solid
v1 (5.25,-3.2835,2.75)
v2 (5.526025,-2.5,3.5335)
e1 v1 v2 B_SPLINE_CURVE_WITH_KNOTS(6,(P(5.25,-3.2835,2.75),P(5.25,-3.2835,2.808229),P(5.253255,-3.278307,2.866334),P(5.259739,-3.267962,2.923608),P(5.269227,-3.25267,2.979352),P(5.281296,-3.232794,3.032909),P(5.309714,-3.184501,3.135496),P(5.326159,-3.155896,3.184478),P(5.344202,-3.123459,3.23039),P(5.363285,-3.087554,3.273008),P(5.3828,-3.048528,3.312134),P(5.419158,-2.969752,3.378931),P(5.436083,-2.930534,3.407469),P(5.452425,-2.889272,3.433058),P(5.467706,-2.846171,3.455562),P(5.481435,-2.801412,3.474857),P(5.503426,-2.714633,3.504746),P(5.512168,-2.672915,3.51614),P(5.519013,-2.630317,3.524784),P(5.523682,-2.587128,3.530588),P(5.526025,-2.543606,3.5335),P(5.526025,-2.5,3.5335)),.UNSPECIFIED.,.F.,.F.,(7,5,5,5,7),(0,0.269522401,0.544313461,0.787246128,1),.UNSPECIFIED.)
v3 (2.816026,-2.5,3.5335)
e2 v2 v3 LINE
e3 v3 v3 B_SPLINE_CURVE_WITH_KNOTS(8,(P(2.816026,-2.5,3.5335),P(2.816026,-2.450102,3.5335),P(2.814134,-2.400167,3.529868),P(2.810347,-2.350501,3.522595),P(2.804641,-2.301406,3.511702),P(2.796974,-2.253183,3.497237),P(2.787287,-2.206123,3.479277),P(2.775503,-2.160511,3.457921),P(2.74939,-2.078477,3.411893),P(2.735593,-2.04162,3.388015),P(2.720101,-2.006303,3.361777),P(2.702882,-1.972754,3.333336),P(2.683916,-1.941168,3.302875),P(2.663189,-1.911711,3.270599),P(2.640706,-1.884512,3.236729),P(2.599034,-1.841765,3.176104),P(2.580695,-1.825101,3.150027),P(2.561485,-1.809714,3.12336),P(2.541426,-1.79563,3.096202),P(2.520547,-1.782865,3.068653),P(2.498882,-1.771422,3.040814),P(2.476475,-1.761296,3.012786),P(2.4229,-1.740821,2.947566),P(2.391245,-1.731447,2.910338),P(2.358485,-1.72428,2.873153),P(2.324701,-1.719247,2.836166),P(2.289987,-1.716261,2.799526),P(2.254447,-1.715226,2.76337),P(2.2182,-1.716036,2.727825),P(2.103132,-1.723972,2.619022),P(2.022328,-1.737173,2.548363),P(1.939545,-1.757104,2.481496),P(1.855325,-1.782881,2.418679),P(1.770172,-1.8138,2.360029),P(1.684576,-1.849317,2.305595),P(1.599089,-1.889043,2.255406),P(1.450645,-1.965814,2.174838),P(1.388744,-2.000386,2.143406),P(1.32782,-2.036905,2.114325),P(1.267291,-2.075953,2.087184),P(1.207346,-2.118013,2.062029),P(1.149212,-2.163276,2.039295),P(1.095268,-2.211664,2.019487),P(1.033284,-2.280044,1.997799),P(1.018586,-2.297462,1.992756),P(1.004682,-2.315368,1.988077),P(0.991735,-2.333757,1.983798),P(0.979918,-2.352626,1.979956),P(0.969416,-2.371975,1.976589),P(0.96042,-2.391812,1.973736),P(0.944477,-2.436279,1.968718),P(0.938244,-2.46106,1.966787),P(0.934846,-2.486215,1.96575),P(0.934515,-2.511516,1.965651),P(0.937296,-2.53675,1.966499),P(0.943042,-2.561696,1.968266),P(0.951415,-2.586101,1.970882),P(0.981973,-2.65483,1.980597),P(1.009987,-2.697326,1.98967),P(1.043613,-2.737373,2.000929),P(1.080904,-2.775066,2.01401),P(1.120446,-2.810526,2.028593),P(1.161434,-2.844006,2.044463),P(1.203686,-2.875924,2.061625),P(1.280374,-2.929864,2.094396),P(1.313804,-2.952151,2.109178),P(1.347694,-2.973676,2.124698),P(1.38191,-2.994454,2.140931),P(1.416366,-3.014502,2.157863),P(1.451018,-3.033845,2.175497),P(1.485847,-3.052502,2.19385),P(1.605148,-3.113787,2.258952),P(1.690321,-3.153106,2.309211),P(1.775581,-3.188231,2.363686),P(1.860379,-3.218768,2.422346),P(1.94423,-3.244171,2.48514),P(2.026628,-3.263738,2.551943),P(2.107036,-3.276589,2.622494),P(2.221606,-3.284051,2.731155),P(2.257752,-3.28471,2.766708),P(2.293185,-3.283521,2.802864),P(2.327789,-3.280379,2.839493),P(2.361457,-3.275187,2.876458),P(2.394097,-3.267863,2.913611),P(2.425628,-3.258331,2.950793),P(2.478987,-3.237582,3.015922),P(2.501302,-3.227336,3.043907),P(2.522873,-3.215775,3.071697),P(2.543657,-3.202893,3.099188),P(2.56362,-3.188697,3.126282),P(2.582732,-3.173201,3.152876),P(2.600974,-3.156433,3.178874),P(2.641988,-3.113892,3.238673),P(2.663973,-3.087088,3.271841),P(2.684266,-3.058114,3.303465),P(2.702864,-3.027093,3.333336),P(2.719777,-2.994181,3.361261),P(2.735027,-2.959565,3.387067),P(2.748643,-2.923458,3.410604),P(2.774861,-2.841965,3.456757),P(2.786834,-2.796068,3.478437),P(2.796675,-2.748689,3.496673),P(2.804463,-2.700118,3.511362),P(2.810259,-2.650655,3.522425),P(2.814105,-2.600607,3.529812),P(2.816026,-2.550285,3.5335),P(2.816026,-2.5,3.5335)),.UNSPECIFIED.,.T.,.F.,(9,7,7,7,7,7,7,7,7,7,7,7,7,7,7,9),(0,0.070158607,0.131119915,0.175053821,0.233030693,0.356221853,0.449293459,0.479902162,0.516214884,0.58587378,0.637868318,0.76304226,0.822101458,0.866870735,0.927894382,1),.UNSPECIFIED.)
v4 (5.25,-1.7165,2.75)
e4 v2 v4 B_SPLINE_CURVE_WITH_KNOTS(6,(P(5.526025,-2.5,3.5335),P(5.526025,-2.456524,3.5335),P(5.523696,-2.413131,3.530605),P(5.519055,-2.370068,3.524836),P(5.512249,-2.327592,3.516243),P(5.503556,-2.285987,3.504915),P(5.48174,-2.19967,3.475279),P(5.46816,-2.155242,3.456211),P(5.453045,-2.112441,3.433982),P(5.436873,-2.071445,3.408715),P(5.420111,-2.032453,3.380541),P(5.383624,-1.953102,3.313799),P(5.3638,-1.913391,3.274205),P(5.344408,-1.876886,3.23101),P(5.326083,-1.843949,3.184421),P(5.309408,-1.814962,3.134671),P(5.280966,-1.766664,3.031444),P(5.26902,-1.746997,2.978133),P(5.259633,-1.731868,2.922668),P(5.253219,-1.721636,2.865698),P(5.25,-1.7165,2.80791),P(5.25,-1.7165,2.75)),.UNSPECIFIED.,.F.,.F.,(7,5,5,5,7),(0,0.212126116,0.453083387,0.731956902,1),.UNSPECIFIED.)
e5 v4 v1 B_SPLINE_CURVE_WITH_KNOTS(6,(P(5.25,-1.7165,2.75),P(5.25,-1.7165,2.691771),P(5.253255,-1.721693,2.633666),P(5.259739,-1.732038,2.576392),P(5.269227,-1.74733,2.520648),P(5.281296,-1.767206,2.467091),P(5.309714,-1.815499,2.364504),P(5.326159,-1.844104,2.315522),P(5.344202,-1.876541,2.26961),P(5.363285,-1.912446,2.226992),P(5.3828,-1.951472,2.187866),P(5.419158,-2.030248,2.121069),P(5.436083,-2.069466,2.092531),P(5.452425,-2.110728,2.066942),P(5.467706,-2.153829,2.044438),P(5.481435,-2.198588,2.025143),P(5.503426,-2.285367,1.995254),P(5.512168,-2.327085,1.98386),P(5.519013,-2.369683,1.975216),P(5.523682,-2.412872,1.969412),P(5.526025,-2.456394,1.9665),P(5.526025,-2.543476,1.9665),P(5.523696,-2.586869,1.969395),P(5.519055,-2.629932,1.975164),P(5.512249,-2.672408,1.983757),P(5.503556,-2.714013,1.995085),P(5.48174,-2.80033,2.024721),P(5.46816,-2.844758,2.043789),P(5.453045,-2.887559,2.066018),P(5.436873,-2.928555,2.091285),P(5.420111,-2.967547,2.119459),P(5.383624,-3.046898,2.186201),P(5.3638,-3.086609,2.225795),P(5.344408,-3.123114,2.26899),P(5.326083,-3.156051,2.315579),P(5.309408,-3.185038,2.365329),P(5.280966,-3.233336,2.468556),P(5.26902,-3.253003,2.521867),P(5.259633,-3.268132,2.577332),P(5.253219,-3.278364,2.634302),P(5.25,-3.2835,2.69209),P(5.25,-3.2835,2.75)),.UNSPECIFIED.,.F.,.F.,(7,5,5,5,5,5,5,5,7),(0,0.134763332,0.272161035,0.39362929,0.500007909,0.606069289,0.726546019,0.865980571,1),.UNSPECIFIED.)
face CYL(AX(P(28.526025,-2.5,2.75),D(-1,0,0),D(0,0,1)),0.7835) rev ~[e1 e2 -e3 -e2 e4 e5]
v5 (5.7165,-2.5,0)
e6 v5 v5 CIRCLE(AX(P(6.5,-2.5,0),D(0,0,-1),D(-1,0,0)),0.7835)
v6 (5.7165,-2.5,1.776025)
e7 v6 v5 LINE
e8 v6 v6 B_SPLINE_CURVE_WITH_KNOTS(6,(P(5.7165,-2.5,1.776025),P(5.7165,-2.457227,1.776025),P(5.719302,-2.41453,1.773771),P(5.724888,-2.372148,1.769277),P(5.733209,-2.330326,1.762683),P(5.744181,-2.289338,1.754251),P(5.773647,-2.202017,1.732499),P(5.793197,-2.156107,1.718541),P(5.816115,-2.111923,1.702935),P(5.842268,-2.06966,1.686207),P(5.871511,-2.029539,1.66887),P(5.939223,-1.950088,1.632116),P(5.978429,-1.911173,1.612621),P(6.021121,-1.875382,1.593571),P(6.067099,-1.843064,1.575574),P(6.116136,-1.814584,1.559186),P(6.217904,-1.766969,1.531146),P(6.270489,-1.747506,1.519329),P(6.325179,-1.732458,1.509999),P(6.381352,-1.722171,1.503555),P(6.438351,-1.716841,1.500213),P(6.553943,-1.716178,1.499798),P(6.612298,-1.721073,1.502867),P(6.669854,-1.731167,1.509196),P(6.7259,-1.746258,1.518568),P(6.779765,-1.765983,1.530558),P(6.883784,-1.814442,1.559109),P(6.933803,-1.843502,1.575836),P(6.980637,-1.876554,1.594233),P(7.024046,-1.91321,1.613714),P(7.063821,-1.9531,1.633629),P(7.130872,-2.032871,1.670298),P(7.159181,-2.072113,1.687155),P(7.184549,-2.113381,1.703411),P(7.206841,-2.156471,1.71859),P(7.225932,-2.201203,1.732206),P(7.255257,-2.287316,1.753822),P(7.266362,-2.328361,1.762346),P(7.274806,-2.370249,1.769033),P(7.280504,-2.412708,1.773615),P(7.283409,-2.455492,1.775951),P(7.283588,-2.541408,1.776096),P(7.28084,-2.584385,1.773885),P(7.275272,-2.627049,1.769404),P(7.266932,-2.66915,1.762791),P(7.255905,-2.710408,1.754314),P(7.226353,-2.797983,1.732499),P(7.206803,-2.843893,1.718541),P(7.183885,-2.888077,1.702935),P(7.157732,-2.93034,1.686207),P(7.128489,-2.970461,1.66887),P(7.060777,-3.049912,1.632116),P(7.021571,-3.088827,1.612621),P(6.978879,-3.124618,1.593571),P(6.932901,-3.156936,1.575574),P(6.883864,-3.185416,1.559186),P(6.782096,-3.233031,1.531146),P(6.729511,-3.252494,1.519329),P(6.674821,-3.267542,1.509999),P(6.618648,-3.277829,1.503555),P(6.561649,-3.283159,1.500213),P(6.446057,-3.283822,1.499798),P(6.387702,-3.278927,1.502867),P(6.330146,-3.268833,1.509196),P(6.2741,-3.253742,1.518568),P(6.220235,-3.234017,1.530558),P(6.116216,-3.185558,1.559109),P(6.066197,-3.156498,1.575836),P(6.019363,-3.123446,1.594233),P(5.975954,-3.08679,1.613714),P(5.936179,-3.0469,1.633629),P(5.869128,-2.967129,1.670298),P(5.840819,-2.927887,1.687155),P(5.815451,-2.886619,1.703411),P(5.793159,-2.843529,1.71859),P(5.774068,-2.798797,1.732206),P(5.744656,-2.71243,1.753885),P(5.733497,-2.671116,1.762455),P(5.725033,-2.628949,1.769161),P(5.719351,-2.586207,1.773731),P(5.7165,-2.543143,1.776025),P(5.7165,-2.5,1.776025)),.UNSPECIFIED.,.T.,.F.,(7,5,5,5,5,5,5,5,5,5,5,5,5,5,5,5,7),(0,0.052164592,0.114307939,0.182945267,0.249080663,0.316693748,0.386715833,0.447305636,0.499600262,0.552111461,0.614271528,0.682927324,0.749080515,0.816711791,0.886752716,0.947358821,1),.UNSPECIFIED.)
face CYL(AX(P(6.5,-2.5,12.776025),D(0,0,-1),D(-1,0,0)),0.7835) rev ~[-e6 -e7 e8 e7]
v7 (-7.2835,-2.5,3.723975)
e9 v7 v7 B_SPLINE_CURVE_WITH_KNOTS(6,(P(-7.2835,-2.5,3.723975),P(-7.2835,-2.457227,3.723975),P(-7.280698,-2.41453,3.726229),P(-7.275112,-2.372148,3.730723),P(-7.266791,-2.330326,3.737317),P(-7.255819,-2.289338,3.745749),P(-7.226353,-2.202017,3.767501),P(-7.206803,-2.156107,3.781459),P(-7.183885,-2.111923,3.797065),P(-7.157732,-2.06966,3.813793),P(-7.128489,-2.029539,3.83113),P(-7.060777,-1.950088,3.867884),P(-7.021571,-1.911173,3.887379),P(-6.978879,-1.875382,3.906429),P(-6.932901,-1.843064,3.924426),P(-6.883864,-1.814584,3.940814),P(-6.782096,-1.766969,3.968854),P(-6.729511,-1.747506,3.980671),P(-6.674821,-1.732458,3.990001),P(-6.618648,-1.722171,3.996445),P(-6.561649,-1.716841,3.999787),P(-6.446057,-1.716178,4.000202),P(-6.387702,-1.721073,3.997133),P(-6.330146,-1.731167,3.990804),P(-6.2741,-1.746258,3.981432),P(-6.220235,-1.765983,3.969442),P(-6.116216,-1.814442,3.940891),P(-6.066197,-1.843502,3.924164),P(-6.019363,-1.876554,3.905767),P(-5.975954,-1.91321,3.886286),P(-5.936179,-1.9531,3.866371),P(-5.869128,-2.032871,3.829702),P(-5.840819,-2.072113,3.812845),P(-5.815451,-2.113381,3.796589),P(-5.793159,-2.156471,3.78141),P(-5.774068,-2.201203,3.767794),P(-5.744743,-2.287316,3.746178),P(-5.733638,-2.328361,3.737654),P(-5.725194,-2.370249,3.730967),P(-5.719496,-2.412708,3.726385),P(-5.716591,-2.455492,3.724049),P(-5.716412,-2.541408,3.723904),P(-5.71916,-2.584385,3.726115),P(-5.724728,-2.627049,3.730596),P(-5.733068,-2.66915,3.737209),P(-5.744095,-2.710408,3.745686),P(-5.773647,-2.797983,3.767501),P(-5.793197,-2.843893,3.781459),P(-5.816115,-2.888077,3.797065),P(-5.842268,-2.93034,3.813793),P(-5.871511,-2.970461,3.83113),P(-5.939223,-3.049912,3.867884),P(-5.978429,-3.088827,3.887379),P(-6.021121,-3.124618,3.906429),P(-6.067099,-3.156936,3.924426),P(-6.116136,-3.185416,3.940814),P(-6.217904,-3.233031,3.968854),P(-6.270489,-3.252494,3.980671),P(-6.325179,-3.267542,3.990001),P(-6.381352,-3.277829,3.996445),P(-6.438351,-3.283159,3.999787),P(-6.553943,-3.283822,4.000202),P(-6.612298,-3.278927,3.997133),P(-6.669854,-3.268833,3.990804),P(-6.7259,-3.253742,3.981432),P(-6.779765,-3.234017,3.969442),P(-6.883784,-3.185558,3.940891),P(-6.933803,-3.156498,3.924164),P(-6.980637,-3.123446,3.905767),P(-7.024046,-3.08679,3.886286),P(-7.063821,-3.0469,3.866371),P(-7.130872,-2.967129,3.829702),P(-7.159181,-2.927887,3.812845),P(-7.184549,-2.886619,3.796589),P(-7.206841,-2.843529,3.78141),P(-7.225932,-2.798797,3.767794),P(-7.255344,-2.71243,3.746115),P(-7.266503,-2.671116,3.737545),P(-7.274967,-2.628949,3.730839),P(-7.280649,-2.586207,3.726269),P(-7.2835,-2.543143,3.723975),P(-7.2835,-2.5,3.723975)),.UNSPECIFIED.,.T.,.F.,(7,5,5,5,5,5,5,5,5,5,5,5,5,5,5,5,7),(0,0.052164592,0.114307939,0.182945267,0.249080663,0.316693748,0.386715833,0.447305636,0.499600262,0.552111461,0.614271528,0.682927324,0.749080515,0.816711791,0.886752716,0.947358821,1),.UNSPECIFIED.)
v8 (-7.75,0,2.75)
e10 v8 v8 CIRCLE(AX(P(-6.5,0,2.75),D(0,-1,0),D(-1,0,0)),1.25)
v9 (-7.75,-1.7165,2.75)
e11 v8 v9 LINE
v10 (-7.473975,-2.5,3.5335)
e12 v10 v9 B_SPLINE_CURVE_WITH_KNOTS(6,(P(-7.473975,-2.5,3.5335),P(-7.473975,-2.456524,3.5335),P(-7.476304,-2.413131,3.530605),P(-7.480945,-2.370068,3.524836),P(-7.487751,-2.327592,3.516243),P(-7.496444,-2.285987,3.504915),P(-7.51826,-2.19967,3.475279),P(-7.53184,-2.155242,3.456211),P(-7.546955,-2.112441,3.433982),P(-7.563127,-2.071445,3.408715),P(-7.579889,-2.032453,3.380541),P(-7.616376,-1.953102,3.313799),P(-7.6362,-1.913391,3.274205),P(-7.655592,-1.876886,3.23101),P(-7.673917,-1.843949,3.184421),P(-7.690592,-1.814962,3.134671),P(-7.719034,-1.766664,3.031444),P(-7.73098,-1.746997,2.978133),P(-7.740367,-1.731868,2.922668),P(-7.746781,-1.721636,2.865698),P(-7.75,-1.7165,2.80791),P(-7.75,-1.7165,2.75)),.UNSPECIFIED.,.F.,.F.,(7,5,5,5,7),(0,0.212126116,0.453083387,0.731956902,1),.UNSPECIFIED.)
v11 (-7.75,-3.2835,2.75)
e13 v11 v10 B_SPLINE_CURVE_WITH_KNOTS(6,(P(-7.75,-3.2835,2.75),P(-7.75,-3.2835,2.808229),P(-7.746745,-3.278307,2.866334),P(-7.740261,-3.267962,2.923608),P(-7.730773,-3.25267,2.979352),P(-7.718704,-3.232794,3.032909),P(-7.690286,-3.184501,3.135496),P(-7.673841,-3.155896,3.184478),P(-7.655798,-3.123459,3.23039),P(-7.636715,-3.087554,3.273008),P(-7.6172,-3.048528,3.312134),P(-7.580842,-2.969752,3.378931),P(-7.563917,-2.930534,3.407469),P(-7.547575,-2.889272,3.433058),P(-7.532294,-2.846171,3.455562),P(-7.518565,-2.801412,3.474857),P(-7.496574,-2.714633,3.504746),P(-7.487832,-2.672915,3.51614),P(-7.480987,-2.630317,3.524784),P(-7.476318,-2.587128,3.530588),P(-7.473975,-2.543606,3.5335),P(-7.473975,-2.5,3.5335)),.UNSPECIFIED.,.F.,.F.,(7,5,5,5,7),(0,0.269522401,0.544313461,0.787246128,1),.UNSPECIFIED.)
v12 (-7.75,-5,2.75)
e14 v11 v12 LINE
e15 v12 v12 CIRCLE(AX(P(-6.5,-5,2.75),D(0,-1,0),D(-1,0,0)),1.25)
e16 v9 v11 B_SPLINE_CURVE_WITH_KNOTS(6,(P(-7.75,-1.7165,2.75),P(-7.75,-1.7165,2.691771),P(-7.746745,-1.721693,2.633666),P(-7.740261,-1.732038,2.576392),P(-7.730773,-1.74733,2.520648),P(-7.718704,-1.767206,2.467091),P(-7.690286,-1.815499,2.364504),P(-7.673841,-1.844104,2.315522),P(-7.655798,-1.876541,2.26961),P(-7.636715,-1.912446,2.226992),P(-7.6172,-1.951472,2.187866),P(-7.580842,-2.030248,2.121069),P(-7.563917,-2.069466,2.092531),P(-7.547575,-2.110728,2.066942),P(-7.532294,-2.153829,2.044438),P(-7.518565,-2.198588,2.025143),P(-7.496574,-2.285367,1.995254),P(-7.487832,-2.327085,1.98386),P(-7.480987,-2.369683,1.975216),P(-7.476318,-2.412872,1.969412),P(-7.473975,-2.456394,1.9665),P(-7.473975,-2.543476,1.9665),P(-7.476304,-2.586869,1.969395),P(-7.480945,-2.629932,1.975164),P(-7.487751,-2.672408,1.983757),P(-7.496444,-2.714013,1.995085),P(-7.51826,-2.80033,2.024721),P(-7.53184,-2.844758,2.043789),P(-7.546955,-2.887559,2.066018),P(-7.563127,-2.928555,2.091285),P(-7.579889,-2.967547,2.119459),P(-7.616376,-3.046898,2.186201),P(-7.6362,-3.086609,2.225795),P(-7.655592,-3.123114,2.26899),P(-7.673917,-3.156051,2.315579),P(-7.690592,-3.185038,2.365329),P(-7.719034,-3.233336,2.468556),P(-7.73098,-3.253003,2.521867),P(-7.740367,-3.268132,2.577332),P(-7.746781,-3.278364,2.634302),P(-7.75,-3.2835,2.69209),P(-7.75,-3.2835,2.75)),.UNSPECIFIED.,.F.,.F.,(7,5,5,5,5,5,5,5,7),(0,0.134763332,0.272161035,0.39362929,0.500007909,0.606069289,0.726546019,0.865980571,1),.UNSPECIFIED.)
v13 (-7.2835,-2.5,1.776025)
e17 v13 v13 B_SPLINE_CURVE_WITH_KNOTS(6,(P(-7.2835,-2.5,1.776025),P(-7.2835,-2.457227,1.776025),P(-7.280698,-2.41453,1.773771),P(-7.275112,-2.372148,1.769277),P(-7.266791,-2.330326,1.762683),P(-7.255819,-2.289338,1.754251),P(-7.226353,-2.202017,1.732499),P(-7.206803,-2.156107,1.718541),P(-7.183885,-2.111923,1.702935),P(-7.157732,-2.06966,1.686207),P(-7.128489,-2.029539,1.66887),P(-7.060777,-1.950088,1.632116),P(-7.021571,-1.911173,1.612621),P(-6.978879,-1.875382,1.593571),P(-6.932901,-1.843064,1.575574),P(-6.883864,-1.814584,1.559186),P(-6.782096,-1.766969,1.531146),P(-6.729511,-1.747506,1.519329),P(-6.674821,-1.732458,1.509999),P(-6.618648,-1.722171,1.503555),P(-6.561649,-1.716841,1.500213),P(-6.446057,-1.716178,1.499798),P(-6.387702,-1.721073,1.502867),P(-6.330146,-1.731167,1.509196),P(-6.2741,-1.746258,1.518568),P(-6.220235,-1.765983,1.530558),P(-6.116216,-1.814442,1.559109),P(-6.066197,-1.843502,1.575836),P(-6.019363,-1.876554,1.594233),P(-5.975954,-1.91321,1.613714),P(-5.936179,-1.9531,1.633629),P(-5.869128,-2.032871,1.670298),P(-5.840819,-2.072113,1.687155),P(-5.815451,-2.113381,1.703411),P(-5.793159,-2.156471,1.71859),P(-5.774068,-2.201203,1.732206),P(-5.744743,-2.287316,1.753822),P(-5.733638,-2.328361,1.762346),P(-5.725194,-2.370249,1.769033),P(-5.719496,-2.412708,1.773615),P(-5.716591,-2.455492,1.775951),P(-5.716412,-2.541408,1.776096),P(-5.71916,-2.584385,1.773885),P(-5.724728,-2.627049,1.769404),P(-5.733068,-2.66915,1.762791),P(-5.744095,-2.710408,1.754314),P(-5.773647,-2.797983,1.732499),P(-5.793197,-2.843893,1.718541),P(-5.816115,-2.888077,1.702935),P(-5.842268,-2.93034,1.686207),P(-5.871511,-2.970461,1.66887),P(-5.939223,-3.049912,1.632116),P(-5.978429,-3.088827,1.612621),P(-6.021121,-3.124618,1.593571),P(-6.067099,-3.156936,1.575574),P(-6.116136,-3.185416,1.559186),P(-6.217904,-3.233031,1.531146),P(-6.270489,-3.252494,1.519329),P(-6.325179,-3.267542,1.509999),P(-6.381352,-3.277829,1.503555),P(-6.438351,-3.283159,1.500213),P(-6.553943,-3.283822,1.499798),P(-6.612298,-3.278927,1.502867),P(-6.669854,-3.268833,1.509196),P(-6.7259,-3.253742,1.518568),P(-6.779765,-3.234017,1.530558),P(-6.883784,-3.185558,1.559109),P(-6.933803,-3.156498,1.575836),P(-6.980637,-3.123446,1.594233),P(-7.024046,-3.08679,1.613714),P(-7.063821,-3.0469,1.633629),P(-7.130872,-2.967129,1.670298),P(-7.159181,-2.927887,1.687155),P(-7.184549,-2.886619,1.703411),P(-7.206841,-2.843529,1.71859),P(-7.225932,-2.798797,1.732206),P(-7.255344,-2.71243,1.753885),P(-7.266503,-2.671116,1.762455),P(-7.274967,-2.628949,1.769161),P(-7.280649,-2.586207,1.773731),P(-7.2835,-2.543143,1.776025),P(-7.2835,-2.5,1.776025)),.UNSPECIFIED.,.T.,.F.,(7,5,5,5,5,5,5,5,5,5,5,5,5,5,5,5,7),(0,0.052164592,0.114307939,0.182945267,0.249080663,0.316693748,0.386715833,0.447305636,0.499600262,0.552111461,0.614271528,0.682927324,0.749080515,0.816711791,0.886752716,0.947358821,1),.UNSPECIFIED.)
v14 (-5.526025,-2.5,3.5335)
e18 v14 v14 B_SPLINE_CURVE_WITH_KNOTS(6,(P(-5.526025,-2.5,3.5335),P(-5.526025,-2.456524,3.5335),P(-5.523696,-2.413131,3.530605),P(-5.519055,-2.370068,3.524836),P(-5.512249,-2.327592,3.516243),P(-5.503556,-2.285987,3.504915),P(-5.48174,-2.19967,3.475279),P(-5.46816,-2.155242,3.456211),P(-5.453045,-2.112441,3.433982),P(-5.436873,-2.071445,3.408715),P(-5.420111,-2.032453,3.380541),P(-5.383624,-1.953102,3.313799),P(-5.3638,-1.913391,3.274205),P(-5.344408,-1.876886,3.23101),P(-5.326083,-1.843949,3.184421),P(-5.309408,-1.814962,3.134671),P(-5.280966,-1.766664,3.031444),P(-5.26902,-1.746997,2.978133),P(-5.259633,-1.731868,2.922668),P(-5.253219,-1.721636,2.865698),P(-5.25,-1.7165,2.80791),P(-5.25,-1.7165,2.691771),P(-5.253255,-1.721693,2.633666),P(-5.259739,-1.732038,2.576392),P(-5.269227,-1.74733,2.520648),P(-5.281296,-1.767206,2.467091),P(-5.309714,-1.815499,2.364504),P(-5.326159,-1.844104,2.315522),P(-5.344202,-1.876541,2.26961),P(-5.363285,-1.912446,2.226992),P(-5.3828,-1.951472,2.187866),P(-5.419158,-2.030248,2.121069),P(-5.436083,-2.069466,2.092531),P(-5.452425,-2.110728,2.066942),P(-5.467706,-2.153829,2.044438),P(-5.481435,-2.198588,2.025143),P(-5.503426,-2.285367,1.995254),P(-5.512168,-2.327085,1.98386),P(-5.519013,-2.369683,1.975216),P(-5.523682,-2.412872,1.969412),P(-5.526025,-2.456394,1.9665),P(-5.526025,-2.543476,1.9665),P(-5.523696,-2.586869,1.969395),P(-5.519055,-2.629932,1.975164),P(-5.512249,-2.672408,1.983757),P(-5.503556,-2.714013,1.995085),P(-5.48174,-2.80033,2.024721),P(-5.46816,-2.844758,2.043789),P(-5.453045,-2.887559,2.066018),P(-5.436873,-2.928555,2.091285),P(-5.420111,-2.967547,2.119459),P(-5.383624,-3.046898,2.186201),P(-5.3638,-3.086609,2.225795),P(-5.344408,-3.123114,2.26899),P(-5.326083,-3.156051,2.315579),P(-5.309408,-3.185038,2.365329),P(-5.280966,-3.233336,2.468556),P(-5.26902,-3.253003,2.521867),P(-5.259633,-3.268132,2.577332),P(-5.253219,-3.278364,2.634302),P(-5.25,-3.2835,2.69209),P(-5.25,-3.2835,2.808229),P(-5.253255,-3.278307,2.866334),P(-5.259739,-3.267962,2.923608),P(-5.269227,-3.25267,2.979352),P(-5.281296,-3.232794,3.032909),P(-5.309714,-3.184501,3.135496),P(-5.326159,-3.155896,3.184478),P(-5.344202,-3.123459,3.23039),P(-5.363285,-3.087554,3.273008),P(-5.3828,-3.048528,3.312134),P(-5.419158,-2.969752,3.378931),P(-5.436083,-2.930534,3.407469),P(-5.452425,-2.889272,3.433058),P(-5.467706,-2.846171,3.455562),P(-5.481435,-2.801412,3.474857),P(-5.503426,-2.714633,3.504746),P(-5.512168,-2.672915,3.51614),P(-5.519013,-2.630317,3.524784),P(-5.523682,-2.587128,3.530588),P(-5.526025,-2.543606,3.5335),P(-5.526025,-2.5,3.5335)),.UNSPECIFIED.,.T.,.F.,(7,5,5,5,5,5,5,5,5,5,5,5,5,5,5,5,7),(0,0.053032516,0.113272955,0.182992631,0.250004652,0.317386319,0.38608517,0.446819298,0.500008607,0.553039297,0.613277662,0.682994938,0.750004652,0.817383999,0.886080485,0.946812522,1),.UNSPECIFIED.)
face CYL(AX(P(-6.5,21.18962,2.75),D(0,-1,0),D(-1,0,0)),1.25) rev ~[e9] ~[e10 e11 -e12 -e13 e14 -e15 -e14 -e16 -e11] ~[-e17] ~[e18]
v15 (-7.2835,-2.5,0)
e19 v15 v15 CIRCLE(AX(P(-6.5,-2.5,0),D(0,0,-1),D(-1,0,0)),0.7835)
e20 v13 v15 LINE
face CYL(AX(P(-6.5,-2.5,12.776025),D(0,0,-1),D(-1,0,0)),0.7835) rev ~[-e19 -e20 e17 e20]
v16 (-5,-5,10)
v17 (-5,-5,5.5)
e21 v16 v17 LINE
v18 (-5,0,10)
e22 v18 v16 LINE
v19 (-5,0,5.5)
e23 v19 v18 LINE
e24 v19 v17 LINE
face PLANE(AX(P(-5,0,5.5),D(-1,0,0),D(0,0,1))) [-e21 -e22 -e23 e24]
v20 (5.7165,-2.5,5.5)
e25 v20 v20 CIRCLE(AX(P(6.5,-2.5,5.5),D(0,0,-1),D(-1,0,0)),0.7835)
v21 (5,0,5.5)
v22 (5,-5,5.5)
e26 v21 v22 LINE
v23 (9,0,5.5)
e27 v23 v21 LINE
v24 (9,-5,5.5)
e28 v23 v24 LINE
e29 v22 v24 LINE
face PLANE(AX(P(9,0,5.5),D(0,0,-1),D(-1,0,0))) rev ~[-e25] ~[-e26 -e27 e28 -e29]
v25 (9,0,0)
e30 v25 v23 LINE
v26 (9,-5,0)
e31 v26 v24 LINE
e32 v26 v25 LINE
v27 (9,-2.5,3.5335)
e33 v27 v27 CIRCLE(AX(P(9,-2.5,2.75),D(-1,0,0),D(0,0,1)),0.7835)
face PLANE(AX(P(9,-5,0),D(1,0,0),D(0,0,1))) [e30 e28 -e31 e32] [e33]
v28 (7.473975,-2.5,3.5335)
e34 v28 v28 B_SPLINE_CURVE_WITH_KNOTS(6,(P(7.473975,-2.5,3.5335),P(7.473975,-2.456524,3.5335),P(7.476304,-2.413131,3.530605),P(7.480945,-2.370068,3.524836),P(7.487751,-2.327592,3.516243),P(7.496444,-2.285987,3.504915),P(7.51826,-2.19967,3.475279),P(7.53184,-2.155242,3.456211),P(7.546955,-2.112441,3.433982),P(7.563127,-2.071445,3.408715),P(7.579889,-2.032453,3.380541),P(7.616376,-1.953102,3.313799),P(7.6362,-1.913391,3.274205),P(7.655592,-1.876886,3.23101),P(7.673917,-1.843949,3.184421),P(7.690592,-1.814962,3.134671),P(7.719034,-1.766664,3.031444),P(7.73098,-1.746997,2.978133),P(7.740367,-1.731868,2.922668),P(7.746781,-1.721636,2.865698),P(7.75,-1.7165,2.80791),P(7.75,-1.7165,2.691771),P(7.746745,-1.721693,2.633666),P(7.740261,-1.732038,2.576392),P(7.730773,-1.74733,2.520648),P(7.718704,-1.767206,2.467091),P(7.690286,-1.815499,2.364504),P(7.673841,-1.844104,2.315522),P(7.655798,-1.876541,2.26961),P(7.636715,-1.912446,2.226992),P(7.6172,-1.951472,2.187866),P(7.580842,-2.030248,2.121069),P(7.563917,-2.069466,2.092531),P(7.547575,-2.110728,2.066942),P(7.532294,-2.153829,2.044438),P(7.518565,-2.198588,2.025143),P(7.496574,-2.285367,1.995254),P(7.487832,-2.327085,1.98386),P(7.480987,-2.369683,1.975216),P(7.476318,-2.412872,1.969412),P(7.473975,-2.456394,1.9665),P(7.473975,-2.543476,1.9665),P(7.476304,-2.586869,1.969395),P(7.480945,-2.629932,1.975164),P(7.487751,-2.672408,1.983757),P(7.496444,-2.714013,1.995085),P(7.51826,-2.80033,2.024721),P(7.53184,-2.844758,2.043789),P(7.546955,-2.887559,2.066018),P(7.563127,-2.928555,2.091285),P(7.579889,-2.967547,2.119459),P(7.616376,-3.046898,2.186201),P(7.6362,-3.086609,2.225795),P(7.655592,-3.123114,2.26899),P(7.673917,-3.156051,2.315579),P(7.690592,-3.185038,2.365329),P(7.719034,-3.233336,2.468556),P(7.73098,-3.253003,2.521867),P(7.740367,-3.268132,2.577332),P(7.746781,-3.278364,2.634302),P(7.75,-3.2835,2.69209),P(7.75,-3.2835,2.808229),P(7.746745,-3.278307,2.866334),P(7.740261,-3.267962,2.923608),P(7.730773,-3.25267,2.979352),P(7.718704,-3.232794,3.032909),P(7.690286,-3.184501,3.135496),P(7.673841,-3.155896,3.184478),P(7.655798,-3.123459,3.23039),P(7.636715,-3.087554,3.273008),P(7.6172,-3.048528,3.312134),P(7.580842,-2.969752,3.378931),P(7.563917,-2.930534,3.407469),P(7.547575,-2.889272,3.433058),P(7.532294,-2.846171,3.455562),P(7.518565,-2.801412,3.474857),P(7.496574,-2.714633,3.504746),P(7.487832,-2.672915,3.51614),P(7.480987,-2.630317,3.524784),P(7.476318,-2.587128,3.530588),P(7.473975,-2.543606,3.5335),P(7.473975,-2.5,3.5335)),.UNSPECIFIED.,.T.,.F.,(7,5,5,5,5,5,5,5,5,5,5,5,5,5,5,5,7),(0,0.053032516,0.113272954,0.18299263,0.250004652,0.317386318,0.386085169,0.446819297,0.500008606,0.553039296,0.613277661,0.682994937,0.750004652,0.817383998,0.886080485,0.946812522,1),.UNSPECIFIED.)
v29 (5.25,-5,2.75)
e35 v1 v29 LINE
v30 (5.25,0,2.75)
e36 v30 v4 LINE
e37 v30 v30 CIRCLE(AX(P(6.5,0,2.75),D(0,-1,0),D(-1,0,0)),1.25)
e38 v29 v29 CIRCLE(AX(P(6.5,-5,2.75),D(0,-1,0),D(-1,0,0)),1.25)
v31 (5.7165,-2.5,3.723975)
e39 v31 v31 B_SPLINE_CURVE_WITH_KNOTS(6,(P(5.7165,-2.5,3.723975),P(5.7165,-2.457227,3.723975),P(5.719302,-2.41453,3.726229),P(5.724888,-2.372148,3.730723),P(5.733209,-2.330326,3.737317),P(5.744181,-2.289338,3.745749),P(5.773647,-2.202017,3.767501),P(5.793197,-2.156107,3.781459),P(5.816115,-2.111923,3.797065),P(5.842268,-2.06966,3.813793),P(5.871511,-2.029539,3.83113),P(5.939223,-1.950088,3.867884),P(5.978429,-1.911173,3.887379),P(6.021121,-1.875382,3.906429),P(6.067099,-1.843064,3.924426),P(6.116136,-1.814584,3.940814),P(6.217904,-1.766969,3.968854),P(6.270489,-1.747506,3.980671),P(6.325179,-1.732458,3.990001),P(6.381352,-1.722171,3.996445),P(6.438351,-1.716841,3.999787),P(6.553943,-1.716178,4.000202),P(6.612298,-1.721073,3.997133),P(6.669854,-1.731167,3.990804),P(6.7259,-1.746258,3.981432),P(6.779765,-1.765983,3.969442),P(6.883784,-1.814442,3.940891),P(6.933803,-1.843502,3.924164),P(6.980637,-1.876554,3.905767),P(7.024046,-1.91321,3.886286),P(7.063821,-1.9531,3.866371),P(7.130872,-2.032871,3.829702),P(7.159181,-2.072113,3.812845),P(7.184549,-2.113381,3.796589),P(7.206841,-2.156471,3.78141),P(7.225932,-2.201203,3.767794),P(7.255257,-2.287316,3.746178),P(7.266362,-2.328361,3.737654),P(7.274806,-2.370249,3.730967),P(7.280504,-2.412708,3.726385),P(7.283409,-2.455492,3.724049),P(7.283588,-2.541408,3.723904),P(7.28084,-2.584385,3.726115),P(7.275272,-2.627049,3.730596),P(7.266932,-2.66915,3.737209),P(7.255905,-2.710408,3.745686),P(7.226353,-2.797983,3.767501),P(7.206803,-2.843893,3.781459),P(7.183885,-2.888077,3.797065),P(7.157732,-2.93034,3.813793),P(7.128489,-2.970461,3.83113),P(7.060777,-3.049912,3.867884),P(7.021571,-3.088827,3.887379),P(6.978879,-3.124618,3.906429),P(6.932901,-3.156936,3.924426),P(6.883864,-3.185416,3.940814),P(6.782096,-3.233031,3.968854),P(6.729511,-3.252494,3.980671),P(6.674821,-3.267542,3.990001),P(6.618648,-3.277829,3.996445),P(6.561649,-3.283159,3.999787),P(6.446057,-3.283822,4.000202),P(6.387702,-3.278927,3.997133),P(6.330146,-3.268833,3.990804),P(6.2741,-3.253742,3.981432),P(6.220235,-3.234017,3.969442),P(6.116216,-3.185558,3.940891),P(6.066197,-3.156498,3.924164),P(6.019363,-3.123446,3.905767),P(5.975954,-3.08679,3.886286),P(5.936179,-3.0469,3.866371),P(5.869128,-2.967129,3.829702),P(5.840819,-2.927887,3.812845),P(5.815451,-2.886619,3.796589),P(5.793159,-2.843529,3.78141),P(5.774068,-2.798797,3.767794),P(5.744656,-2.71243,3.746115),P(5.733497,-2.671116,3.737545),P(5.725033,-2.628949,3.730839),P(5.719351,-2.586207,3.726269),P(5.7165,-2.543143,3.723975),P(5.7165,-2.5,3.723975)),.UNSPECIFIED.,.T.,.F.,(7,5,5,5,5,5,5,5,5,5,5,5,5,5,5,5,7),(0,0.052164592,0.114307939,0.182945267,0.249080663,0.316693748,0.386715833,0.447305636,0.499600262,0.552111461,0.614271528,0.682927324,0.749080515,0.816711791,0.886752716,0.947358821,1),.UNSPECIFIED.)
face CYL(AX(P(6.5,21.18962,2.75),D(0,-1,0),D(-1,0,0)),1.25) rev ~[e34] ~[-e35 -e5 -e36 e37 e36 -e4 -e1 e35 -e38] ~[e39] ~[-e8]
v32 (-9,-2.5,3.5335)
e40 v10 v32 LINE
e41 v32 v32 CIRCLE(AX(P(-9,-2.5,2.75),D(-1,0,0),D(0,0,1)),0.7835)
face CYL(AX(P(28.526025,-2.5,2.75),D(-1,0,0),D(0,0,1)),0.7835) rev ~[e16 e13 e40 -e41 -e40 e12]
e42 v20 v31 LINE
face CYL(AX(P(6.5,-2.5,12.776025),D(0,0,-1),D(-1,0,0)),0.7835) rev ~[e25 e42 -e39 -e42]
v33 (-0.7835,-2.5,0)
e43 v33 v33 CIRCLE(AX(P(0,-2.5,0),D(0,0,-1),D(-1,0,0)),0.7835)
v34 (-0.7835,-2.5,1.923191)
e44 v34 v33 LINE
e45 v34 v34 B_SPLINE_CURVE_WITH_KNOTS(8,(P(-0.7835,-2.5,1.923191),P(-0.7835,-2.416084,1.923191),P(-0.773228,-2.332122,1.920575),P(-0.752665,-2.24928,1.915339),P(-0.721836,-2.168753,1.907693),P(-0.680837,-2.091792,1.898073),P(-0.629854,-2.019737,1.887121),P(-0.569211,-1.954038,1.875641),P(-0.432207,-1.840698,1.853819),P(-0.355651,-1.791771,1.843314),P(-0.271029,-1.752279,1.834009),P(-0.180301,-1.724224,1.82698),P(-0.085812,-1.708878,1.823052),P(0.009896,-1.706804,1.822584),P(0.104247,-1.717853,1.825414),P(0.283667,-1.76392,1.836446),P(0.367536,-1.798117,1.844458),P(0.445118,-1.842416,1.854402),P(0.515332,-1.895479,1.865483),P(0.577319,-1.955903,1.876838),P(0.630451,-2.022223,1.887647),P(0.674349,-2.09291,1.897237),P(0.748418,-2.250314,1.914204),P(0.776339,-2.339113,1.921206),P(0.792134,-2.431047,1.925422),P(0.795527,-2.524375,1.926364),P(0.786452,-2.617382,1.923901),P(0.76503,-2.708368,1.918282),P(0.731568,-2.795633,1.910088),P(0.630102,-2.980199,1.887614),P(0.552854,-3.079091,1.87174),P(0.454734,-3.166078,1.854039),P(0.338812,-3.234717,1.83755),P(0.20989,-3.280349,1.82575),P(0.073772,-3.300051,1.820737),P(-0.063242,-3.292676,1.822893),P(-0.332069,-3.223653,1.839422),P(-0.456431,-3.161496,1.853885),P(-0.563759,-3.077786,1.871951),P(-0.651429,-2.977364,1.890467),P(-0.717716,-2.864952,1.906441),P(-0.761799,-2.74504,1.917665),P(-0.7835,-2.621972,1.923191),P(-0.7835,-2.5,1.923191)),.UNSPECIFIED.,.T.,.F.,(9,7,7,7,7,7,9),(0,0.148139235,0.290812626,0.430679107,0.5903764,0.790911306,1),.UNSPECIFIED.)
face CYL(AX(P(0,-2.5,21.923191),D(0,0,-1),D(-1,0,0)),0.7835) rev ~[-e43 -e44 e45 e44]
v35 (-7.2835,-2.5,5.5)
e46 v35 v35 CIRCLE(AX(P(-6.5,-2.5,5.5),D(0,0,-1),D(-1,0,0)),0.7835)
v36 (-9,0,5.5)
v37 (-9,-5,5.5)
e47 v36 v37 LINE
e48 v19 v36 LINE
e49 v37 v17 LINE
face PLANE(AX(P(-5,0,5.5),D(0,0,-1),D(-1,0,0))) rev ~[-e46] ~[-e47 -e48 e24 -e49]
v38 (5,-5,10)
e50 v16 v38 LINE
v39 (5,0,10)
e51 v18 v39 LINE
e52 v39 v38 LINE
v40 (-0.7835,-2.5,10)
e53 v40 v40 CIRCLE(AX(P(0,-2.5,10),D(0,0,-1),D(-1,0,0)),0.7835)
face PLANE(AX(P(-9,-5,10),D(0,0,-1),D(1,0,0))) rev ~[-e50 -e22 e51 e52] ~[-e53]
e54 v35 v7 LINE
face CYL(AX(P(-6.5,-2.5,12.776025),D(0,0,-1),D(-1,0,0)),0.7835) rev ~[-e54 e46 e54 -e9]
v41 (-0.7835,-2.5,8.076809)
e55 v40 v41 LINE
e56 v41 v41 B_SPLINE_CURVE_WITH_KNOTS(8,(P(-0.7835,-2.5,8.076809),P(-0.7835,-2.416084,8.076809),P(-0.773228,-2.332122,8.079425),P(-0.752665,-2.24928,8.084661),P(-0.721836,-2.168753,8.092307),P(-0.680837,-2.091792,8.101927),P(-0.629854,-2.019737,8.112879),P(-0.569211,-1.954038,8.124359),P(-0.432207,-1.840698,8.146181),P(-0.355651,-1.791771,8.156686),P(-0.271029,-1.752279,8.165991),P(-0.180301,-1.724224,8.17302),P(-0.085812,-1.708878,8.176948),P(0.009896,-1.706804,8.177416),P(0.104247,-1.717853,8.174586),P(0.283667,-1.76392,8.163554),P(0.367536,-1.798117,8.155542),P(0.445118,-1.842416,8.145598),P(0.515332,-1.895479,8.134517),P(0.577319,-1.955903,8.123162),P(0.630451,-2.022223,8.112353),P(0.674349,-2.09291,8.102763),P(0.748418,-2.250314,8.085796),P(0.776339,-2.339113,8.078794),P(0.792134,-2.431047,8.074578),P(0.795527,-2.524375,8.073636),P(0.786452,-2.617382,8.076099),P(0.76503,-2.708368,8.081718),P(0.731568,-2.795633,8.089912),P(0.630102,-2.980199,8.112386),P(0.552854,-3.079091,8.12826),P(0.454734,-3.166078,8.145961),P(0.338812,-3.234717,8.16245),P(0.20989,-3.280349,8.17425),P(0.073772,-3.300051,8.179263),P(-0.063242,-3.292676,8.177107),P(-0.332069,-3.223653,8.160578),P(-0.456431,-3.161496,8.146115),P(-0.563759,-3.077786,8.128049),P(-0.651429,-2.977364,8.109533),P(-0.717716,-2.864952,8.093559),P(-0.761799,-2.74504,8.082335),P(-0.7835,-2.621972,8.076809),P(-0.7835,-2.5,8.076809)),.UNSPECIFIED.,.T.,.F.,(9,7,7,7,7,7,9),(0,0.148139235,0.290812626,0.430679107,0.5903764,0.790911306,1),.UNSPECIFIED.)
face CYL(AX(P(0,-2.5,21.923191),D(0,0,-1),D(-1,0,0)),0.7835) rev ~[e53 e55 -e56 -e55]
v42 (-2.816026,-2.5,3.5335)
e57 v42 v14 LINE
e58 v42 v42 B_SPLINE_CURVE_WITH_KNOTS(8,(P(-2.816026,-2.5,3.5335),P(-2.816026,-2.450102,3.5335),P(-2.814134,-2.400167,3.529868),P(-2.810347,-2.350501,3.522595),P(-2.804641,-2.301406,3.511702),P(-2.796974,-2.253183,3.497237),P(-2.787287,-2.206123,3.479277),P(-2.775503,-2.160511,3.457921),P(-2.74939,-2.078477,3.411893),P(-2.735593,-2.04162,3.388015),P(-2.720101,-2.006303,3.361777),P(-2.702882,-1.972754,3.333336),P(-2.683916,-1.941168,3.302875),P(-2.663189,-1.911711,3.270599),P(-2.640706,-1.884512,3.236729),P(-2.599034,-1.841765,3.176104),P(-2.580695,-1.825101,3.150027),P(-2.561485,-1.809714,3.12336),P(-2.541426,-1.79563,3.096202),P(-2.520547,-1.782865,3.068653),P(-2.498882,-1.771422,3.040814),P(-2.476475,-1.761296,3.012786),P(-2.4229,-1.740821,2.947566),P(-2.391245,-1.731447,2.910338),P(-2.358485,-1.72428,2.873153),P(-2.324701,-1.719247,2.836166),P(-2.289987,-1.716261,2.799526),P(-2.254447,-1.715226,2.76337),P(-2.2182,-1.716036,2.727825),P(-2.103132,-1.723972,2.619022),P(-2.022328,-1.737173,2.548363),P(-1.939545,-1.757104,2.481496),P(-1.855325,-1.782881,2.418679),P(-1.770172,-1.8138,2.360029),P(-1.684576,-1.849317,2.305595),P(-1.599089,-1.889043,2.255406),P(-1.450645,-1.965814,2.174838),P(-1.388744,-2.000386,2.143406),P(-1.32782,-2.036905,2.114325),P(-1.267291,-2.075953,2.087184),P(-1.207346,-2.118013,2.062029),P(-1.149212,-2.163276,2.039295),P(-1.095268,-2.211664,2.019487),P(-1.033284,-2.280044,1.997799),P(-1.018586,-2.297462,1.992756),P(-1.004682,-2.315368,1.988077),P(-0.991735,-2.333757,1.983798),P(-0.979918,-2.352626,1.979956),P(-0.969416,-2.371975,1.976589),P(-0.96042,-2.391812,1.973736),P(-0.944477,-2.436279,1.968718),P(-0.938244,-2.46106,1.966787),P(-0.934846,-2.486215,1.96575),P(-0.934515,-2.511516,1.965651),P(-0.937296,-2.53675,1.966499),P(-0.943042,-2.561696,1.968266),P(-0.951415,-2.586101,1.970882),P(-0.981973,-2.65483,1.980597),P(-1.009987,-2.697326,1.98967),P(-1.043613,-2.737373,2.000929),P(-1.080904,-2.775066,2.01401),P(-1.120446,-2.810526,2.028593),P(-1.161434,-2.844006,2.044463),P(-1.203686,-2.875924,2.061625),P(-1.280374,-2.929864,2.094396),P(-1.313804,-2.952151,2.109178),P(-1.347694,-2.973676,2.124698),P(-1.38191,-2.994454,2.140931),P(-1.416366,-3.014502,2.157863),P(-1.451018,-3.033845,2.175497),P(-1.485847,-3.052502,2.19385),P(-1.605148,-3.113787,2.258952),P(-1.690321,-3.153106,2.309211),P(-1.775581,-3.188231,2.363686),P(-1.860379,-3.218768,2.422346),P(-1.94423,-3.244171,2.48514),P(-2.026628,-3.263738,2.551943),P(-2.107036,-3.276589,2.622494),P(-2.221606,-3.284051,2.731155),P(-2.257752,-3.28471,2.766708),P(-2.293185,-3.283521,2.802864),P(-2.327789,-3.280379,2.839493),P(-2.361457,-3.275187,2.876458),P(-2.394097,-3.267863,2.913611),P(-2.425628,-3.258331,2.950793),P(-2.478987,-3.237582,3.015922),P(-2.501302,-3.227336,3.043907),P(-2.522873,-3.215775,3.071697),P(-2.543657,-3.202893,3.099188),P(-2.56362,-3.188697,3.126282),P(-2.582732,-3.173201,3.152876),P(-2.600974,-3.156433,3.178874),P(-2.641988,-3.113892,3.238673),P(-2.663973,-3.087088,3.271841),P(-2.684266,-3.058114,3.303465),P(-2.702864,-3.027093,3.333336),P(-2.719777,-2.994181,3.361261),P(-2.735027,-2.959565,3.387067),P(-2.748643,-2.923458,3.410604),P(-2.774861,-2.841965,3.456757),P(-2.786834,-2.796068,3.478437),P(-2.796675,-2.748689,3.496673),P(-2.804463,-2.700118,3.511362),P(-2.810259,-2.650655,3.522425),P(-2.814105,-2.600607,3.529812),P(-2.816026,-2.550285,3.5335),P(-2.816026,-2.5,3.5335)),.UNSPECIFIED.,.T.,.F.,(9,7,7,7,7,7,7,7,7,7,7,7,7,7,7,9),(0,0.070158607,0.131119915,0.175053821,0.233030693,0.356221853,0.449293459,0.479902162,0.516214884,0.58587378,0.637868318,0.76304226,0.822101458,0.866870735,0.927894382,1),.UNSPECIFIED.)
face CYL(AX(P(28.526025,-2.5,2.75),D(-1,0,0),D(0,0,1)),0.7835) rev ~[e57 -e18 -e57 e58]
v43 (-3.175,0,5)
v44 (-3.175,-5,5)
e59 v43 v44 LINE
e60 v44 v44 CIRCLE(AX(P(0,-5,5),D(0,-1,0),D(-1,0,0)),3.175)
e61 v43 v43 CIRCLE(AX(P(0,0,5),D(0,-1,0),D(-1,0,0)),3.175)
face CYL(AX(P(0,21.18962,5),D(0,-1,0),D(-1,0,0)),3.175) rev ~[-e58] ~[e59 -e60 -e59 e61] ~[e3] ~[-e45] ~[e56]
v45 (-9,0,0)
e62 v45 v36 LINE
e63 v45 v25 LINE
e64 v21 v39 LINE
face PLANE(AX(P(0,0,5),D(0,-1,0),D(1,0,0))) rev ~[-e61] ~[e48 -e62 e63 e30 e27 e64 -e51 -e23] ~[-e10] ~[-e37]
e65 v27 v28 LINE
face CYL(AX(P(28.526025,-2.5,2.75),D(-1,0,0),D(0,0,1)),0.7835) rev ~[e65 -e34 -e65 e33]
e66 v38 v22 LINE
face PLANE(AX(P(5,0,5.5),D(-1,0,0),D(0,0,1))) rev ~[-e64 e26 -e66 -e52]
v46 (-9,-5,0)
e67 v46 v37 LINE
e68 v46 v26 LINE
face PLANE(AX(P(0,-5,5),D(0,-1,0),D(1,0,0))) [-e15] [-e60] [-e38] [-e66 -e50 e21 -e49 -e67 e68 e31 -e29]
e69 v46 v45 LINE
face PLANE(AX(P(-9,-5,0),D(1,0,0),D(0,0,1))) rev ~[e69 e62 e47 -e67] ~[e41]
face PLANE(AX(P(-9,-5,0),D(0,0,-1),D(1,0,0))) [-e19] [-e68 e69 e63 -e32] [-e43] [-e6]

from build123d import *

# Parameters (mm, degrees)
SKETCH1_W                  = 18
SKETCH1_H                  = 10
BOSS_EXTRUDE1_DEPTH        = 5
SKETCH2_W                  = 4
SKETCH2_H                  = 4.5
CUT_EXTRUDE1_DEPTH         = 15.352700094
SKETCH3_W                  = 4
SKETCH3_H                  = 4.5
CUT_EXTRUDE2_DEPTH         = 15.352700094
F_2_5_2_5_DIAMETER_HOLE1_D = 2.5
HOLE1_D                    = 1.567
HOLE1_DEPTH                = 19.526024769
HOLE2_D                    = 1.567
HOLE2_DEPTH                = 7.276024769
HOLE3_D                    = 6.35
HOLE4_D                    = 1.567
HOLE4_DEPTH                = 11.923191142


with BuildPart() as part:
    # Sketch1 → Boss-Extrude1 (new body)
    with BuildSketch(Plane.XZ.offset(5)):
        with Locations((0, 5)):
            Rectangle(SKETCH1_W, SKETCH1_H)
    extrude(amount=-BOSS_EXTRUDE1_DEPTH)

    # Sketch2 → Cut-Extrude1 (cut, through all)
    with BuildSketch(Plane(origin=(0, 0, 0), x_dir=(-1, 0, 0), z_dir=(0, 1, 0))):
        with Locations((7, 7.75)):
            Rectangle(SKETCH2_W, SKETCH2_H)
    extrude(amount=-CUT_EXTRUDE1_DEPTH, mode=Mode.SUBTRACT)

    # Sketch3 → Cut-Extrude2 (cut, through all)
    with BuildSketch(Plane(origin=(0, 0, 0), x_dir=(-1, 0, 0), z_dir=(0, 1, 0))):
        with Locations((-7, 7.75)):
            Rectangle(SKETCH3_W, SKETCH3_H)
    extrude(amount=-CUT_EXTRUDE2_DEPTH, mode=Mode.SUBTRACT)

    # Ø2.5 (2.5) Diameter Hole1 (through all)
    with Locations(Plane(origin=(0, 0, 0), x_dir=(1, 0, 0), z_dir=(0, 1, 0))):
        with Locations((6.5, -2.75), (-6.5, -2.75)):
            Hole(F_2_5_2_5_DIAMETER_HOLE1_D / 2)

    # Hole1
    with Locations(Plane(origin=(9, 0, 0), x_dir=(0, 0, -1), z_dir=(1, 0, 0))):
        with Locations((-2.75, -2.5)):
            Hole(HOLE1_D / 2, depth=HOLE1_DEPTH)

    # Hole2
    with Locations(Plane.XY.offset(5.5)):
        with Locations((6.5, -2.5), (-6.5, -2.5)):
            Hole(HOLE2_D / 2, depth=HOLE2_DEPTH)

    # Hole3 (through all)
    with Locations(Plane(origin=(0, 0, 0), x_dir=(1, 0, 0), z_dir=(0, 1, 0))):
        with Locations((0, -5)):
            Hole(HOLE3_D / 2)

    # Hole4
    with Locations(Plane.XY.offset(10)):
        with Locations((0, -2.5)):
            Hole(HOLE4_D / 2, depth=HOLE4_DEPTH)


solid = part.part
